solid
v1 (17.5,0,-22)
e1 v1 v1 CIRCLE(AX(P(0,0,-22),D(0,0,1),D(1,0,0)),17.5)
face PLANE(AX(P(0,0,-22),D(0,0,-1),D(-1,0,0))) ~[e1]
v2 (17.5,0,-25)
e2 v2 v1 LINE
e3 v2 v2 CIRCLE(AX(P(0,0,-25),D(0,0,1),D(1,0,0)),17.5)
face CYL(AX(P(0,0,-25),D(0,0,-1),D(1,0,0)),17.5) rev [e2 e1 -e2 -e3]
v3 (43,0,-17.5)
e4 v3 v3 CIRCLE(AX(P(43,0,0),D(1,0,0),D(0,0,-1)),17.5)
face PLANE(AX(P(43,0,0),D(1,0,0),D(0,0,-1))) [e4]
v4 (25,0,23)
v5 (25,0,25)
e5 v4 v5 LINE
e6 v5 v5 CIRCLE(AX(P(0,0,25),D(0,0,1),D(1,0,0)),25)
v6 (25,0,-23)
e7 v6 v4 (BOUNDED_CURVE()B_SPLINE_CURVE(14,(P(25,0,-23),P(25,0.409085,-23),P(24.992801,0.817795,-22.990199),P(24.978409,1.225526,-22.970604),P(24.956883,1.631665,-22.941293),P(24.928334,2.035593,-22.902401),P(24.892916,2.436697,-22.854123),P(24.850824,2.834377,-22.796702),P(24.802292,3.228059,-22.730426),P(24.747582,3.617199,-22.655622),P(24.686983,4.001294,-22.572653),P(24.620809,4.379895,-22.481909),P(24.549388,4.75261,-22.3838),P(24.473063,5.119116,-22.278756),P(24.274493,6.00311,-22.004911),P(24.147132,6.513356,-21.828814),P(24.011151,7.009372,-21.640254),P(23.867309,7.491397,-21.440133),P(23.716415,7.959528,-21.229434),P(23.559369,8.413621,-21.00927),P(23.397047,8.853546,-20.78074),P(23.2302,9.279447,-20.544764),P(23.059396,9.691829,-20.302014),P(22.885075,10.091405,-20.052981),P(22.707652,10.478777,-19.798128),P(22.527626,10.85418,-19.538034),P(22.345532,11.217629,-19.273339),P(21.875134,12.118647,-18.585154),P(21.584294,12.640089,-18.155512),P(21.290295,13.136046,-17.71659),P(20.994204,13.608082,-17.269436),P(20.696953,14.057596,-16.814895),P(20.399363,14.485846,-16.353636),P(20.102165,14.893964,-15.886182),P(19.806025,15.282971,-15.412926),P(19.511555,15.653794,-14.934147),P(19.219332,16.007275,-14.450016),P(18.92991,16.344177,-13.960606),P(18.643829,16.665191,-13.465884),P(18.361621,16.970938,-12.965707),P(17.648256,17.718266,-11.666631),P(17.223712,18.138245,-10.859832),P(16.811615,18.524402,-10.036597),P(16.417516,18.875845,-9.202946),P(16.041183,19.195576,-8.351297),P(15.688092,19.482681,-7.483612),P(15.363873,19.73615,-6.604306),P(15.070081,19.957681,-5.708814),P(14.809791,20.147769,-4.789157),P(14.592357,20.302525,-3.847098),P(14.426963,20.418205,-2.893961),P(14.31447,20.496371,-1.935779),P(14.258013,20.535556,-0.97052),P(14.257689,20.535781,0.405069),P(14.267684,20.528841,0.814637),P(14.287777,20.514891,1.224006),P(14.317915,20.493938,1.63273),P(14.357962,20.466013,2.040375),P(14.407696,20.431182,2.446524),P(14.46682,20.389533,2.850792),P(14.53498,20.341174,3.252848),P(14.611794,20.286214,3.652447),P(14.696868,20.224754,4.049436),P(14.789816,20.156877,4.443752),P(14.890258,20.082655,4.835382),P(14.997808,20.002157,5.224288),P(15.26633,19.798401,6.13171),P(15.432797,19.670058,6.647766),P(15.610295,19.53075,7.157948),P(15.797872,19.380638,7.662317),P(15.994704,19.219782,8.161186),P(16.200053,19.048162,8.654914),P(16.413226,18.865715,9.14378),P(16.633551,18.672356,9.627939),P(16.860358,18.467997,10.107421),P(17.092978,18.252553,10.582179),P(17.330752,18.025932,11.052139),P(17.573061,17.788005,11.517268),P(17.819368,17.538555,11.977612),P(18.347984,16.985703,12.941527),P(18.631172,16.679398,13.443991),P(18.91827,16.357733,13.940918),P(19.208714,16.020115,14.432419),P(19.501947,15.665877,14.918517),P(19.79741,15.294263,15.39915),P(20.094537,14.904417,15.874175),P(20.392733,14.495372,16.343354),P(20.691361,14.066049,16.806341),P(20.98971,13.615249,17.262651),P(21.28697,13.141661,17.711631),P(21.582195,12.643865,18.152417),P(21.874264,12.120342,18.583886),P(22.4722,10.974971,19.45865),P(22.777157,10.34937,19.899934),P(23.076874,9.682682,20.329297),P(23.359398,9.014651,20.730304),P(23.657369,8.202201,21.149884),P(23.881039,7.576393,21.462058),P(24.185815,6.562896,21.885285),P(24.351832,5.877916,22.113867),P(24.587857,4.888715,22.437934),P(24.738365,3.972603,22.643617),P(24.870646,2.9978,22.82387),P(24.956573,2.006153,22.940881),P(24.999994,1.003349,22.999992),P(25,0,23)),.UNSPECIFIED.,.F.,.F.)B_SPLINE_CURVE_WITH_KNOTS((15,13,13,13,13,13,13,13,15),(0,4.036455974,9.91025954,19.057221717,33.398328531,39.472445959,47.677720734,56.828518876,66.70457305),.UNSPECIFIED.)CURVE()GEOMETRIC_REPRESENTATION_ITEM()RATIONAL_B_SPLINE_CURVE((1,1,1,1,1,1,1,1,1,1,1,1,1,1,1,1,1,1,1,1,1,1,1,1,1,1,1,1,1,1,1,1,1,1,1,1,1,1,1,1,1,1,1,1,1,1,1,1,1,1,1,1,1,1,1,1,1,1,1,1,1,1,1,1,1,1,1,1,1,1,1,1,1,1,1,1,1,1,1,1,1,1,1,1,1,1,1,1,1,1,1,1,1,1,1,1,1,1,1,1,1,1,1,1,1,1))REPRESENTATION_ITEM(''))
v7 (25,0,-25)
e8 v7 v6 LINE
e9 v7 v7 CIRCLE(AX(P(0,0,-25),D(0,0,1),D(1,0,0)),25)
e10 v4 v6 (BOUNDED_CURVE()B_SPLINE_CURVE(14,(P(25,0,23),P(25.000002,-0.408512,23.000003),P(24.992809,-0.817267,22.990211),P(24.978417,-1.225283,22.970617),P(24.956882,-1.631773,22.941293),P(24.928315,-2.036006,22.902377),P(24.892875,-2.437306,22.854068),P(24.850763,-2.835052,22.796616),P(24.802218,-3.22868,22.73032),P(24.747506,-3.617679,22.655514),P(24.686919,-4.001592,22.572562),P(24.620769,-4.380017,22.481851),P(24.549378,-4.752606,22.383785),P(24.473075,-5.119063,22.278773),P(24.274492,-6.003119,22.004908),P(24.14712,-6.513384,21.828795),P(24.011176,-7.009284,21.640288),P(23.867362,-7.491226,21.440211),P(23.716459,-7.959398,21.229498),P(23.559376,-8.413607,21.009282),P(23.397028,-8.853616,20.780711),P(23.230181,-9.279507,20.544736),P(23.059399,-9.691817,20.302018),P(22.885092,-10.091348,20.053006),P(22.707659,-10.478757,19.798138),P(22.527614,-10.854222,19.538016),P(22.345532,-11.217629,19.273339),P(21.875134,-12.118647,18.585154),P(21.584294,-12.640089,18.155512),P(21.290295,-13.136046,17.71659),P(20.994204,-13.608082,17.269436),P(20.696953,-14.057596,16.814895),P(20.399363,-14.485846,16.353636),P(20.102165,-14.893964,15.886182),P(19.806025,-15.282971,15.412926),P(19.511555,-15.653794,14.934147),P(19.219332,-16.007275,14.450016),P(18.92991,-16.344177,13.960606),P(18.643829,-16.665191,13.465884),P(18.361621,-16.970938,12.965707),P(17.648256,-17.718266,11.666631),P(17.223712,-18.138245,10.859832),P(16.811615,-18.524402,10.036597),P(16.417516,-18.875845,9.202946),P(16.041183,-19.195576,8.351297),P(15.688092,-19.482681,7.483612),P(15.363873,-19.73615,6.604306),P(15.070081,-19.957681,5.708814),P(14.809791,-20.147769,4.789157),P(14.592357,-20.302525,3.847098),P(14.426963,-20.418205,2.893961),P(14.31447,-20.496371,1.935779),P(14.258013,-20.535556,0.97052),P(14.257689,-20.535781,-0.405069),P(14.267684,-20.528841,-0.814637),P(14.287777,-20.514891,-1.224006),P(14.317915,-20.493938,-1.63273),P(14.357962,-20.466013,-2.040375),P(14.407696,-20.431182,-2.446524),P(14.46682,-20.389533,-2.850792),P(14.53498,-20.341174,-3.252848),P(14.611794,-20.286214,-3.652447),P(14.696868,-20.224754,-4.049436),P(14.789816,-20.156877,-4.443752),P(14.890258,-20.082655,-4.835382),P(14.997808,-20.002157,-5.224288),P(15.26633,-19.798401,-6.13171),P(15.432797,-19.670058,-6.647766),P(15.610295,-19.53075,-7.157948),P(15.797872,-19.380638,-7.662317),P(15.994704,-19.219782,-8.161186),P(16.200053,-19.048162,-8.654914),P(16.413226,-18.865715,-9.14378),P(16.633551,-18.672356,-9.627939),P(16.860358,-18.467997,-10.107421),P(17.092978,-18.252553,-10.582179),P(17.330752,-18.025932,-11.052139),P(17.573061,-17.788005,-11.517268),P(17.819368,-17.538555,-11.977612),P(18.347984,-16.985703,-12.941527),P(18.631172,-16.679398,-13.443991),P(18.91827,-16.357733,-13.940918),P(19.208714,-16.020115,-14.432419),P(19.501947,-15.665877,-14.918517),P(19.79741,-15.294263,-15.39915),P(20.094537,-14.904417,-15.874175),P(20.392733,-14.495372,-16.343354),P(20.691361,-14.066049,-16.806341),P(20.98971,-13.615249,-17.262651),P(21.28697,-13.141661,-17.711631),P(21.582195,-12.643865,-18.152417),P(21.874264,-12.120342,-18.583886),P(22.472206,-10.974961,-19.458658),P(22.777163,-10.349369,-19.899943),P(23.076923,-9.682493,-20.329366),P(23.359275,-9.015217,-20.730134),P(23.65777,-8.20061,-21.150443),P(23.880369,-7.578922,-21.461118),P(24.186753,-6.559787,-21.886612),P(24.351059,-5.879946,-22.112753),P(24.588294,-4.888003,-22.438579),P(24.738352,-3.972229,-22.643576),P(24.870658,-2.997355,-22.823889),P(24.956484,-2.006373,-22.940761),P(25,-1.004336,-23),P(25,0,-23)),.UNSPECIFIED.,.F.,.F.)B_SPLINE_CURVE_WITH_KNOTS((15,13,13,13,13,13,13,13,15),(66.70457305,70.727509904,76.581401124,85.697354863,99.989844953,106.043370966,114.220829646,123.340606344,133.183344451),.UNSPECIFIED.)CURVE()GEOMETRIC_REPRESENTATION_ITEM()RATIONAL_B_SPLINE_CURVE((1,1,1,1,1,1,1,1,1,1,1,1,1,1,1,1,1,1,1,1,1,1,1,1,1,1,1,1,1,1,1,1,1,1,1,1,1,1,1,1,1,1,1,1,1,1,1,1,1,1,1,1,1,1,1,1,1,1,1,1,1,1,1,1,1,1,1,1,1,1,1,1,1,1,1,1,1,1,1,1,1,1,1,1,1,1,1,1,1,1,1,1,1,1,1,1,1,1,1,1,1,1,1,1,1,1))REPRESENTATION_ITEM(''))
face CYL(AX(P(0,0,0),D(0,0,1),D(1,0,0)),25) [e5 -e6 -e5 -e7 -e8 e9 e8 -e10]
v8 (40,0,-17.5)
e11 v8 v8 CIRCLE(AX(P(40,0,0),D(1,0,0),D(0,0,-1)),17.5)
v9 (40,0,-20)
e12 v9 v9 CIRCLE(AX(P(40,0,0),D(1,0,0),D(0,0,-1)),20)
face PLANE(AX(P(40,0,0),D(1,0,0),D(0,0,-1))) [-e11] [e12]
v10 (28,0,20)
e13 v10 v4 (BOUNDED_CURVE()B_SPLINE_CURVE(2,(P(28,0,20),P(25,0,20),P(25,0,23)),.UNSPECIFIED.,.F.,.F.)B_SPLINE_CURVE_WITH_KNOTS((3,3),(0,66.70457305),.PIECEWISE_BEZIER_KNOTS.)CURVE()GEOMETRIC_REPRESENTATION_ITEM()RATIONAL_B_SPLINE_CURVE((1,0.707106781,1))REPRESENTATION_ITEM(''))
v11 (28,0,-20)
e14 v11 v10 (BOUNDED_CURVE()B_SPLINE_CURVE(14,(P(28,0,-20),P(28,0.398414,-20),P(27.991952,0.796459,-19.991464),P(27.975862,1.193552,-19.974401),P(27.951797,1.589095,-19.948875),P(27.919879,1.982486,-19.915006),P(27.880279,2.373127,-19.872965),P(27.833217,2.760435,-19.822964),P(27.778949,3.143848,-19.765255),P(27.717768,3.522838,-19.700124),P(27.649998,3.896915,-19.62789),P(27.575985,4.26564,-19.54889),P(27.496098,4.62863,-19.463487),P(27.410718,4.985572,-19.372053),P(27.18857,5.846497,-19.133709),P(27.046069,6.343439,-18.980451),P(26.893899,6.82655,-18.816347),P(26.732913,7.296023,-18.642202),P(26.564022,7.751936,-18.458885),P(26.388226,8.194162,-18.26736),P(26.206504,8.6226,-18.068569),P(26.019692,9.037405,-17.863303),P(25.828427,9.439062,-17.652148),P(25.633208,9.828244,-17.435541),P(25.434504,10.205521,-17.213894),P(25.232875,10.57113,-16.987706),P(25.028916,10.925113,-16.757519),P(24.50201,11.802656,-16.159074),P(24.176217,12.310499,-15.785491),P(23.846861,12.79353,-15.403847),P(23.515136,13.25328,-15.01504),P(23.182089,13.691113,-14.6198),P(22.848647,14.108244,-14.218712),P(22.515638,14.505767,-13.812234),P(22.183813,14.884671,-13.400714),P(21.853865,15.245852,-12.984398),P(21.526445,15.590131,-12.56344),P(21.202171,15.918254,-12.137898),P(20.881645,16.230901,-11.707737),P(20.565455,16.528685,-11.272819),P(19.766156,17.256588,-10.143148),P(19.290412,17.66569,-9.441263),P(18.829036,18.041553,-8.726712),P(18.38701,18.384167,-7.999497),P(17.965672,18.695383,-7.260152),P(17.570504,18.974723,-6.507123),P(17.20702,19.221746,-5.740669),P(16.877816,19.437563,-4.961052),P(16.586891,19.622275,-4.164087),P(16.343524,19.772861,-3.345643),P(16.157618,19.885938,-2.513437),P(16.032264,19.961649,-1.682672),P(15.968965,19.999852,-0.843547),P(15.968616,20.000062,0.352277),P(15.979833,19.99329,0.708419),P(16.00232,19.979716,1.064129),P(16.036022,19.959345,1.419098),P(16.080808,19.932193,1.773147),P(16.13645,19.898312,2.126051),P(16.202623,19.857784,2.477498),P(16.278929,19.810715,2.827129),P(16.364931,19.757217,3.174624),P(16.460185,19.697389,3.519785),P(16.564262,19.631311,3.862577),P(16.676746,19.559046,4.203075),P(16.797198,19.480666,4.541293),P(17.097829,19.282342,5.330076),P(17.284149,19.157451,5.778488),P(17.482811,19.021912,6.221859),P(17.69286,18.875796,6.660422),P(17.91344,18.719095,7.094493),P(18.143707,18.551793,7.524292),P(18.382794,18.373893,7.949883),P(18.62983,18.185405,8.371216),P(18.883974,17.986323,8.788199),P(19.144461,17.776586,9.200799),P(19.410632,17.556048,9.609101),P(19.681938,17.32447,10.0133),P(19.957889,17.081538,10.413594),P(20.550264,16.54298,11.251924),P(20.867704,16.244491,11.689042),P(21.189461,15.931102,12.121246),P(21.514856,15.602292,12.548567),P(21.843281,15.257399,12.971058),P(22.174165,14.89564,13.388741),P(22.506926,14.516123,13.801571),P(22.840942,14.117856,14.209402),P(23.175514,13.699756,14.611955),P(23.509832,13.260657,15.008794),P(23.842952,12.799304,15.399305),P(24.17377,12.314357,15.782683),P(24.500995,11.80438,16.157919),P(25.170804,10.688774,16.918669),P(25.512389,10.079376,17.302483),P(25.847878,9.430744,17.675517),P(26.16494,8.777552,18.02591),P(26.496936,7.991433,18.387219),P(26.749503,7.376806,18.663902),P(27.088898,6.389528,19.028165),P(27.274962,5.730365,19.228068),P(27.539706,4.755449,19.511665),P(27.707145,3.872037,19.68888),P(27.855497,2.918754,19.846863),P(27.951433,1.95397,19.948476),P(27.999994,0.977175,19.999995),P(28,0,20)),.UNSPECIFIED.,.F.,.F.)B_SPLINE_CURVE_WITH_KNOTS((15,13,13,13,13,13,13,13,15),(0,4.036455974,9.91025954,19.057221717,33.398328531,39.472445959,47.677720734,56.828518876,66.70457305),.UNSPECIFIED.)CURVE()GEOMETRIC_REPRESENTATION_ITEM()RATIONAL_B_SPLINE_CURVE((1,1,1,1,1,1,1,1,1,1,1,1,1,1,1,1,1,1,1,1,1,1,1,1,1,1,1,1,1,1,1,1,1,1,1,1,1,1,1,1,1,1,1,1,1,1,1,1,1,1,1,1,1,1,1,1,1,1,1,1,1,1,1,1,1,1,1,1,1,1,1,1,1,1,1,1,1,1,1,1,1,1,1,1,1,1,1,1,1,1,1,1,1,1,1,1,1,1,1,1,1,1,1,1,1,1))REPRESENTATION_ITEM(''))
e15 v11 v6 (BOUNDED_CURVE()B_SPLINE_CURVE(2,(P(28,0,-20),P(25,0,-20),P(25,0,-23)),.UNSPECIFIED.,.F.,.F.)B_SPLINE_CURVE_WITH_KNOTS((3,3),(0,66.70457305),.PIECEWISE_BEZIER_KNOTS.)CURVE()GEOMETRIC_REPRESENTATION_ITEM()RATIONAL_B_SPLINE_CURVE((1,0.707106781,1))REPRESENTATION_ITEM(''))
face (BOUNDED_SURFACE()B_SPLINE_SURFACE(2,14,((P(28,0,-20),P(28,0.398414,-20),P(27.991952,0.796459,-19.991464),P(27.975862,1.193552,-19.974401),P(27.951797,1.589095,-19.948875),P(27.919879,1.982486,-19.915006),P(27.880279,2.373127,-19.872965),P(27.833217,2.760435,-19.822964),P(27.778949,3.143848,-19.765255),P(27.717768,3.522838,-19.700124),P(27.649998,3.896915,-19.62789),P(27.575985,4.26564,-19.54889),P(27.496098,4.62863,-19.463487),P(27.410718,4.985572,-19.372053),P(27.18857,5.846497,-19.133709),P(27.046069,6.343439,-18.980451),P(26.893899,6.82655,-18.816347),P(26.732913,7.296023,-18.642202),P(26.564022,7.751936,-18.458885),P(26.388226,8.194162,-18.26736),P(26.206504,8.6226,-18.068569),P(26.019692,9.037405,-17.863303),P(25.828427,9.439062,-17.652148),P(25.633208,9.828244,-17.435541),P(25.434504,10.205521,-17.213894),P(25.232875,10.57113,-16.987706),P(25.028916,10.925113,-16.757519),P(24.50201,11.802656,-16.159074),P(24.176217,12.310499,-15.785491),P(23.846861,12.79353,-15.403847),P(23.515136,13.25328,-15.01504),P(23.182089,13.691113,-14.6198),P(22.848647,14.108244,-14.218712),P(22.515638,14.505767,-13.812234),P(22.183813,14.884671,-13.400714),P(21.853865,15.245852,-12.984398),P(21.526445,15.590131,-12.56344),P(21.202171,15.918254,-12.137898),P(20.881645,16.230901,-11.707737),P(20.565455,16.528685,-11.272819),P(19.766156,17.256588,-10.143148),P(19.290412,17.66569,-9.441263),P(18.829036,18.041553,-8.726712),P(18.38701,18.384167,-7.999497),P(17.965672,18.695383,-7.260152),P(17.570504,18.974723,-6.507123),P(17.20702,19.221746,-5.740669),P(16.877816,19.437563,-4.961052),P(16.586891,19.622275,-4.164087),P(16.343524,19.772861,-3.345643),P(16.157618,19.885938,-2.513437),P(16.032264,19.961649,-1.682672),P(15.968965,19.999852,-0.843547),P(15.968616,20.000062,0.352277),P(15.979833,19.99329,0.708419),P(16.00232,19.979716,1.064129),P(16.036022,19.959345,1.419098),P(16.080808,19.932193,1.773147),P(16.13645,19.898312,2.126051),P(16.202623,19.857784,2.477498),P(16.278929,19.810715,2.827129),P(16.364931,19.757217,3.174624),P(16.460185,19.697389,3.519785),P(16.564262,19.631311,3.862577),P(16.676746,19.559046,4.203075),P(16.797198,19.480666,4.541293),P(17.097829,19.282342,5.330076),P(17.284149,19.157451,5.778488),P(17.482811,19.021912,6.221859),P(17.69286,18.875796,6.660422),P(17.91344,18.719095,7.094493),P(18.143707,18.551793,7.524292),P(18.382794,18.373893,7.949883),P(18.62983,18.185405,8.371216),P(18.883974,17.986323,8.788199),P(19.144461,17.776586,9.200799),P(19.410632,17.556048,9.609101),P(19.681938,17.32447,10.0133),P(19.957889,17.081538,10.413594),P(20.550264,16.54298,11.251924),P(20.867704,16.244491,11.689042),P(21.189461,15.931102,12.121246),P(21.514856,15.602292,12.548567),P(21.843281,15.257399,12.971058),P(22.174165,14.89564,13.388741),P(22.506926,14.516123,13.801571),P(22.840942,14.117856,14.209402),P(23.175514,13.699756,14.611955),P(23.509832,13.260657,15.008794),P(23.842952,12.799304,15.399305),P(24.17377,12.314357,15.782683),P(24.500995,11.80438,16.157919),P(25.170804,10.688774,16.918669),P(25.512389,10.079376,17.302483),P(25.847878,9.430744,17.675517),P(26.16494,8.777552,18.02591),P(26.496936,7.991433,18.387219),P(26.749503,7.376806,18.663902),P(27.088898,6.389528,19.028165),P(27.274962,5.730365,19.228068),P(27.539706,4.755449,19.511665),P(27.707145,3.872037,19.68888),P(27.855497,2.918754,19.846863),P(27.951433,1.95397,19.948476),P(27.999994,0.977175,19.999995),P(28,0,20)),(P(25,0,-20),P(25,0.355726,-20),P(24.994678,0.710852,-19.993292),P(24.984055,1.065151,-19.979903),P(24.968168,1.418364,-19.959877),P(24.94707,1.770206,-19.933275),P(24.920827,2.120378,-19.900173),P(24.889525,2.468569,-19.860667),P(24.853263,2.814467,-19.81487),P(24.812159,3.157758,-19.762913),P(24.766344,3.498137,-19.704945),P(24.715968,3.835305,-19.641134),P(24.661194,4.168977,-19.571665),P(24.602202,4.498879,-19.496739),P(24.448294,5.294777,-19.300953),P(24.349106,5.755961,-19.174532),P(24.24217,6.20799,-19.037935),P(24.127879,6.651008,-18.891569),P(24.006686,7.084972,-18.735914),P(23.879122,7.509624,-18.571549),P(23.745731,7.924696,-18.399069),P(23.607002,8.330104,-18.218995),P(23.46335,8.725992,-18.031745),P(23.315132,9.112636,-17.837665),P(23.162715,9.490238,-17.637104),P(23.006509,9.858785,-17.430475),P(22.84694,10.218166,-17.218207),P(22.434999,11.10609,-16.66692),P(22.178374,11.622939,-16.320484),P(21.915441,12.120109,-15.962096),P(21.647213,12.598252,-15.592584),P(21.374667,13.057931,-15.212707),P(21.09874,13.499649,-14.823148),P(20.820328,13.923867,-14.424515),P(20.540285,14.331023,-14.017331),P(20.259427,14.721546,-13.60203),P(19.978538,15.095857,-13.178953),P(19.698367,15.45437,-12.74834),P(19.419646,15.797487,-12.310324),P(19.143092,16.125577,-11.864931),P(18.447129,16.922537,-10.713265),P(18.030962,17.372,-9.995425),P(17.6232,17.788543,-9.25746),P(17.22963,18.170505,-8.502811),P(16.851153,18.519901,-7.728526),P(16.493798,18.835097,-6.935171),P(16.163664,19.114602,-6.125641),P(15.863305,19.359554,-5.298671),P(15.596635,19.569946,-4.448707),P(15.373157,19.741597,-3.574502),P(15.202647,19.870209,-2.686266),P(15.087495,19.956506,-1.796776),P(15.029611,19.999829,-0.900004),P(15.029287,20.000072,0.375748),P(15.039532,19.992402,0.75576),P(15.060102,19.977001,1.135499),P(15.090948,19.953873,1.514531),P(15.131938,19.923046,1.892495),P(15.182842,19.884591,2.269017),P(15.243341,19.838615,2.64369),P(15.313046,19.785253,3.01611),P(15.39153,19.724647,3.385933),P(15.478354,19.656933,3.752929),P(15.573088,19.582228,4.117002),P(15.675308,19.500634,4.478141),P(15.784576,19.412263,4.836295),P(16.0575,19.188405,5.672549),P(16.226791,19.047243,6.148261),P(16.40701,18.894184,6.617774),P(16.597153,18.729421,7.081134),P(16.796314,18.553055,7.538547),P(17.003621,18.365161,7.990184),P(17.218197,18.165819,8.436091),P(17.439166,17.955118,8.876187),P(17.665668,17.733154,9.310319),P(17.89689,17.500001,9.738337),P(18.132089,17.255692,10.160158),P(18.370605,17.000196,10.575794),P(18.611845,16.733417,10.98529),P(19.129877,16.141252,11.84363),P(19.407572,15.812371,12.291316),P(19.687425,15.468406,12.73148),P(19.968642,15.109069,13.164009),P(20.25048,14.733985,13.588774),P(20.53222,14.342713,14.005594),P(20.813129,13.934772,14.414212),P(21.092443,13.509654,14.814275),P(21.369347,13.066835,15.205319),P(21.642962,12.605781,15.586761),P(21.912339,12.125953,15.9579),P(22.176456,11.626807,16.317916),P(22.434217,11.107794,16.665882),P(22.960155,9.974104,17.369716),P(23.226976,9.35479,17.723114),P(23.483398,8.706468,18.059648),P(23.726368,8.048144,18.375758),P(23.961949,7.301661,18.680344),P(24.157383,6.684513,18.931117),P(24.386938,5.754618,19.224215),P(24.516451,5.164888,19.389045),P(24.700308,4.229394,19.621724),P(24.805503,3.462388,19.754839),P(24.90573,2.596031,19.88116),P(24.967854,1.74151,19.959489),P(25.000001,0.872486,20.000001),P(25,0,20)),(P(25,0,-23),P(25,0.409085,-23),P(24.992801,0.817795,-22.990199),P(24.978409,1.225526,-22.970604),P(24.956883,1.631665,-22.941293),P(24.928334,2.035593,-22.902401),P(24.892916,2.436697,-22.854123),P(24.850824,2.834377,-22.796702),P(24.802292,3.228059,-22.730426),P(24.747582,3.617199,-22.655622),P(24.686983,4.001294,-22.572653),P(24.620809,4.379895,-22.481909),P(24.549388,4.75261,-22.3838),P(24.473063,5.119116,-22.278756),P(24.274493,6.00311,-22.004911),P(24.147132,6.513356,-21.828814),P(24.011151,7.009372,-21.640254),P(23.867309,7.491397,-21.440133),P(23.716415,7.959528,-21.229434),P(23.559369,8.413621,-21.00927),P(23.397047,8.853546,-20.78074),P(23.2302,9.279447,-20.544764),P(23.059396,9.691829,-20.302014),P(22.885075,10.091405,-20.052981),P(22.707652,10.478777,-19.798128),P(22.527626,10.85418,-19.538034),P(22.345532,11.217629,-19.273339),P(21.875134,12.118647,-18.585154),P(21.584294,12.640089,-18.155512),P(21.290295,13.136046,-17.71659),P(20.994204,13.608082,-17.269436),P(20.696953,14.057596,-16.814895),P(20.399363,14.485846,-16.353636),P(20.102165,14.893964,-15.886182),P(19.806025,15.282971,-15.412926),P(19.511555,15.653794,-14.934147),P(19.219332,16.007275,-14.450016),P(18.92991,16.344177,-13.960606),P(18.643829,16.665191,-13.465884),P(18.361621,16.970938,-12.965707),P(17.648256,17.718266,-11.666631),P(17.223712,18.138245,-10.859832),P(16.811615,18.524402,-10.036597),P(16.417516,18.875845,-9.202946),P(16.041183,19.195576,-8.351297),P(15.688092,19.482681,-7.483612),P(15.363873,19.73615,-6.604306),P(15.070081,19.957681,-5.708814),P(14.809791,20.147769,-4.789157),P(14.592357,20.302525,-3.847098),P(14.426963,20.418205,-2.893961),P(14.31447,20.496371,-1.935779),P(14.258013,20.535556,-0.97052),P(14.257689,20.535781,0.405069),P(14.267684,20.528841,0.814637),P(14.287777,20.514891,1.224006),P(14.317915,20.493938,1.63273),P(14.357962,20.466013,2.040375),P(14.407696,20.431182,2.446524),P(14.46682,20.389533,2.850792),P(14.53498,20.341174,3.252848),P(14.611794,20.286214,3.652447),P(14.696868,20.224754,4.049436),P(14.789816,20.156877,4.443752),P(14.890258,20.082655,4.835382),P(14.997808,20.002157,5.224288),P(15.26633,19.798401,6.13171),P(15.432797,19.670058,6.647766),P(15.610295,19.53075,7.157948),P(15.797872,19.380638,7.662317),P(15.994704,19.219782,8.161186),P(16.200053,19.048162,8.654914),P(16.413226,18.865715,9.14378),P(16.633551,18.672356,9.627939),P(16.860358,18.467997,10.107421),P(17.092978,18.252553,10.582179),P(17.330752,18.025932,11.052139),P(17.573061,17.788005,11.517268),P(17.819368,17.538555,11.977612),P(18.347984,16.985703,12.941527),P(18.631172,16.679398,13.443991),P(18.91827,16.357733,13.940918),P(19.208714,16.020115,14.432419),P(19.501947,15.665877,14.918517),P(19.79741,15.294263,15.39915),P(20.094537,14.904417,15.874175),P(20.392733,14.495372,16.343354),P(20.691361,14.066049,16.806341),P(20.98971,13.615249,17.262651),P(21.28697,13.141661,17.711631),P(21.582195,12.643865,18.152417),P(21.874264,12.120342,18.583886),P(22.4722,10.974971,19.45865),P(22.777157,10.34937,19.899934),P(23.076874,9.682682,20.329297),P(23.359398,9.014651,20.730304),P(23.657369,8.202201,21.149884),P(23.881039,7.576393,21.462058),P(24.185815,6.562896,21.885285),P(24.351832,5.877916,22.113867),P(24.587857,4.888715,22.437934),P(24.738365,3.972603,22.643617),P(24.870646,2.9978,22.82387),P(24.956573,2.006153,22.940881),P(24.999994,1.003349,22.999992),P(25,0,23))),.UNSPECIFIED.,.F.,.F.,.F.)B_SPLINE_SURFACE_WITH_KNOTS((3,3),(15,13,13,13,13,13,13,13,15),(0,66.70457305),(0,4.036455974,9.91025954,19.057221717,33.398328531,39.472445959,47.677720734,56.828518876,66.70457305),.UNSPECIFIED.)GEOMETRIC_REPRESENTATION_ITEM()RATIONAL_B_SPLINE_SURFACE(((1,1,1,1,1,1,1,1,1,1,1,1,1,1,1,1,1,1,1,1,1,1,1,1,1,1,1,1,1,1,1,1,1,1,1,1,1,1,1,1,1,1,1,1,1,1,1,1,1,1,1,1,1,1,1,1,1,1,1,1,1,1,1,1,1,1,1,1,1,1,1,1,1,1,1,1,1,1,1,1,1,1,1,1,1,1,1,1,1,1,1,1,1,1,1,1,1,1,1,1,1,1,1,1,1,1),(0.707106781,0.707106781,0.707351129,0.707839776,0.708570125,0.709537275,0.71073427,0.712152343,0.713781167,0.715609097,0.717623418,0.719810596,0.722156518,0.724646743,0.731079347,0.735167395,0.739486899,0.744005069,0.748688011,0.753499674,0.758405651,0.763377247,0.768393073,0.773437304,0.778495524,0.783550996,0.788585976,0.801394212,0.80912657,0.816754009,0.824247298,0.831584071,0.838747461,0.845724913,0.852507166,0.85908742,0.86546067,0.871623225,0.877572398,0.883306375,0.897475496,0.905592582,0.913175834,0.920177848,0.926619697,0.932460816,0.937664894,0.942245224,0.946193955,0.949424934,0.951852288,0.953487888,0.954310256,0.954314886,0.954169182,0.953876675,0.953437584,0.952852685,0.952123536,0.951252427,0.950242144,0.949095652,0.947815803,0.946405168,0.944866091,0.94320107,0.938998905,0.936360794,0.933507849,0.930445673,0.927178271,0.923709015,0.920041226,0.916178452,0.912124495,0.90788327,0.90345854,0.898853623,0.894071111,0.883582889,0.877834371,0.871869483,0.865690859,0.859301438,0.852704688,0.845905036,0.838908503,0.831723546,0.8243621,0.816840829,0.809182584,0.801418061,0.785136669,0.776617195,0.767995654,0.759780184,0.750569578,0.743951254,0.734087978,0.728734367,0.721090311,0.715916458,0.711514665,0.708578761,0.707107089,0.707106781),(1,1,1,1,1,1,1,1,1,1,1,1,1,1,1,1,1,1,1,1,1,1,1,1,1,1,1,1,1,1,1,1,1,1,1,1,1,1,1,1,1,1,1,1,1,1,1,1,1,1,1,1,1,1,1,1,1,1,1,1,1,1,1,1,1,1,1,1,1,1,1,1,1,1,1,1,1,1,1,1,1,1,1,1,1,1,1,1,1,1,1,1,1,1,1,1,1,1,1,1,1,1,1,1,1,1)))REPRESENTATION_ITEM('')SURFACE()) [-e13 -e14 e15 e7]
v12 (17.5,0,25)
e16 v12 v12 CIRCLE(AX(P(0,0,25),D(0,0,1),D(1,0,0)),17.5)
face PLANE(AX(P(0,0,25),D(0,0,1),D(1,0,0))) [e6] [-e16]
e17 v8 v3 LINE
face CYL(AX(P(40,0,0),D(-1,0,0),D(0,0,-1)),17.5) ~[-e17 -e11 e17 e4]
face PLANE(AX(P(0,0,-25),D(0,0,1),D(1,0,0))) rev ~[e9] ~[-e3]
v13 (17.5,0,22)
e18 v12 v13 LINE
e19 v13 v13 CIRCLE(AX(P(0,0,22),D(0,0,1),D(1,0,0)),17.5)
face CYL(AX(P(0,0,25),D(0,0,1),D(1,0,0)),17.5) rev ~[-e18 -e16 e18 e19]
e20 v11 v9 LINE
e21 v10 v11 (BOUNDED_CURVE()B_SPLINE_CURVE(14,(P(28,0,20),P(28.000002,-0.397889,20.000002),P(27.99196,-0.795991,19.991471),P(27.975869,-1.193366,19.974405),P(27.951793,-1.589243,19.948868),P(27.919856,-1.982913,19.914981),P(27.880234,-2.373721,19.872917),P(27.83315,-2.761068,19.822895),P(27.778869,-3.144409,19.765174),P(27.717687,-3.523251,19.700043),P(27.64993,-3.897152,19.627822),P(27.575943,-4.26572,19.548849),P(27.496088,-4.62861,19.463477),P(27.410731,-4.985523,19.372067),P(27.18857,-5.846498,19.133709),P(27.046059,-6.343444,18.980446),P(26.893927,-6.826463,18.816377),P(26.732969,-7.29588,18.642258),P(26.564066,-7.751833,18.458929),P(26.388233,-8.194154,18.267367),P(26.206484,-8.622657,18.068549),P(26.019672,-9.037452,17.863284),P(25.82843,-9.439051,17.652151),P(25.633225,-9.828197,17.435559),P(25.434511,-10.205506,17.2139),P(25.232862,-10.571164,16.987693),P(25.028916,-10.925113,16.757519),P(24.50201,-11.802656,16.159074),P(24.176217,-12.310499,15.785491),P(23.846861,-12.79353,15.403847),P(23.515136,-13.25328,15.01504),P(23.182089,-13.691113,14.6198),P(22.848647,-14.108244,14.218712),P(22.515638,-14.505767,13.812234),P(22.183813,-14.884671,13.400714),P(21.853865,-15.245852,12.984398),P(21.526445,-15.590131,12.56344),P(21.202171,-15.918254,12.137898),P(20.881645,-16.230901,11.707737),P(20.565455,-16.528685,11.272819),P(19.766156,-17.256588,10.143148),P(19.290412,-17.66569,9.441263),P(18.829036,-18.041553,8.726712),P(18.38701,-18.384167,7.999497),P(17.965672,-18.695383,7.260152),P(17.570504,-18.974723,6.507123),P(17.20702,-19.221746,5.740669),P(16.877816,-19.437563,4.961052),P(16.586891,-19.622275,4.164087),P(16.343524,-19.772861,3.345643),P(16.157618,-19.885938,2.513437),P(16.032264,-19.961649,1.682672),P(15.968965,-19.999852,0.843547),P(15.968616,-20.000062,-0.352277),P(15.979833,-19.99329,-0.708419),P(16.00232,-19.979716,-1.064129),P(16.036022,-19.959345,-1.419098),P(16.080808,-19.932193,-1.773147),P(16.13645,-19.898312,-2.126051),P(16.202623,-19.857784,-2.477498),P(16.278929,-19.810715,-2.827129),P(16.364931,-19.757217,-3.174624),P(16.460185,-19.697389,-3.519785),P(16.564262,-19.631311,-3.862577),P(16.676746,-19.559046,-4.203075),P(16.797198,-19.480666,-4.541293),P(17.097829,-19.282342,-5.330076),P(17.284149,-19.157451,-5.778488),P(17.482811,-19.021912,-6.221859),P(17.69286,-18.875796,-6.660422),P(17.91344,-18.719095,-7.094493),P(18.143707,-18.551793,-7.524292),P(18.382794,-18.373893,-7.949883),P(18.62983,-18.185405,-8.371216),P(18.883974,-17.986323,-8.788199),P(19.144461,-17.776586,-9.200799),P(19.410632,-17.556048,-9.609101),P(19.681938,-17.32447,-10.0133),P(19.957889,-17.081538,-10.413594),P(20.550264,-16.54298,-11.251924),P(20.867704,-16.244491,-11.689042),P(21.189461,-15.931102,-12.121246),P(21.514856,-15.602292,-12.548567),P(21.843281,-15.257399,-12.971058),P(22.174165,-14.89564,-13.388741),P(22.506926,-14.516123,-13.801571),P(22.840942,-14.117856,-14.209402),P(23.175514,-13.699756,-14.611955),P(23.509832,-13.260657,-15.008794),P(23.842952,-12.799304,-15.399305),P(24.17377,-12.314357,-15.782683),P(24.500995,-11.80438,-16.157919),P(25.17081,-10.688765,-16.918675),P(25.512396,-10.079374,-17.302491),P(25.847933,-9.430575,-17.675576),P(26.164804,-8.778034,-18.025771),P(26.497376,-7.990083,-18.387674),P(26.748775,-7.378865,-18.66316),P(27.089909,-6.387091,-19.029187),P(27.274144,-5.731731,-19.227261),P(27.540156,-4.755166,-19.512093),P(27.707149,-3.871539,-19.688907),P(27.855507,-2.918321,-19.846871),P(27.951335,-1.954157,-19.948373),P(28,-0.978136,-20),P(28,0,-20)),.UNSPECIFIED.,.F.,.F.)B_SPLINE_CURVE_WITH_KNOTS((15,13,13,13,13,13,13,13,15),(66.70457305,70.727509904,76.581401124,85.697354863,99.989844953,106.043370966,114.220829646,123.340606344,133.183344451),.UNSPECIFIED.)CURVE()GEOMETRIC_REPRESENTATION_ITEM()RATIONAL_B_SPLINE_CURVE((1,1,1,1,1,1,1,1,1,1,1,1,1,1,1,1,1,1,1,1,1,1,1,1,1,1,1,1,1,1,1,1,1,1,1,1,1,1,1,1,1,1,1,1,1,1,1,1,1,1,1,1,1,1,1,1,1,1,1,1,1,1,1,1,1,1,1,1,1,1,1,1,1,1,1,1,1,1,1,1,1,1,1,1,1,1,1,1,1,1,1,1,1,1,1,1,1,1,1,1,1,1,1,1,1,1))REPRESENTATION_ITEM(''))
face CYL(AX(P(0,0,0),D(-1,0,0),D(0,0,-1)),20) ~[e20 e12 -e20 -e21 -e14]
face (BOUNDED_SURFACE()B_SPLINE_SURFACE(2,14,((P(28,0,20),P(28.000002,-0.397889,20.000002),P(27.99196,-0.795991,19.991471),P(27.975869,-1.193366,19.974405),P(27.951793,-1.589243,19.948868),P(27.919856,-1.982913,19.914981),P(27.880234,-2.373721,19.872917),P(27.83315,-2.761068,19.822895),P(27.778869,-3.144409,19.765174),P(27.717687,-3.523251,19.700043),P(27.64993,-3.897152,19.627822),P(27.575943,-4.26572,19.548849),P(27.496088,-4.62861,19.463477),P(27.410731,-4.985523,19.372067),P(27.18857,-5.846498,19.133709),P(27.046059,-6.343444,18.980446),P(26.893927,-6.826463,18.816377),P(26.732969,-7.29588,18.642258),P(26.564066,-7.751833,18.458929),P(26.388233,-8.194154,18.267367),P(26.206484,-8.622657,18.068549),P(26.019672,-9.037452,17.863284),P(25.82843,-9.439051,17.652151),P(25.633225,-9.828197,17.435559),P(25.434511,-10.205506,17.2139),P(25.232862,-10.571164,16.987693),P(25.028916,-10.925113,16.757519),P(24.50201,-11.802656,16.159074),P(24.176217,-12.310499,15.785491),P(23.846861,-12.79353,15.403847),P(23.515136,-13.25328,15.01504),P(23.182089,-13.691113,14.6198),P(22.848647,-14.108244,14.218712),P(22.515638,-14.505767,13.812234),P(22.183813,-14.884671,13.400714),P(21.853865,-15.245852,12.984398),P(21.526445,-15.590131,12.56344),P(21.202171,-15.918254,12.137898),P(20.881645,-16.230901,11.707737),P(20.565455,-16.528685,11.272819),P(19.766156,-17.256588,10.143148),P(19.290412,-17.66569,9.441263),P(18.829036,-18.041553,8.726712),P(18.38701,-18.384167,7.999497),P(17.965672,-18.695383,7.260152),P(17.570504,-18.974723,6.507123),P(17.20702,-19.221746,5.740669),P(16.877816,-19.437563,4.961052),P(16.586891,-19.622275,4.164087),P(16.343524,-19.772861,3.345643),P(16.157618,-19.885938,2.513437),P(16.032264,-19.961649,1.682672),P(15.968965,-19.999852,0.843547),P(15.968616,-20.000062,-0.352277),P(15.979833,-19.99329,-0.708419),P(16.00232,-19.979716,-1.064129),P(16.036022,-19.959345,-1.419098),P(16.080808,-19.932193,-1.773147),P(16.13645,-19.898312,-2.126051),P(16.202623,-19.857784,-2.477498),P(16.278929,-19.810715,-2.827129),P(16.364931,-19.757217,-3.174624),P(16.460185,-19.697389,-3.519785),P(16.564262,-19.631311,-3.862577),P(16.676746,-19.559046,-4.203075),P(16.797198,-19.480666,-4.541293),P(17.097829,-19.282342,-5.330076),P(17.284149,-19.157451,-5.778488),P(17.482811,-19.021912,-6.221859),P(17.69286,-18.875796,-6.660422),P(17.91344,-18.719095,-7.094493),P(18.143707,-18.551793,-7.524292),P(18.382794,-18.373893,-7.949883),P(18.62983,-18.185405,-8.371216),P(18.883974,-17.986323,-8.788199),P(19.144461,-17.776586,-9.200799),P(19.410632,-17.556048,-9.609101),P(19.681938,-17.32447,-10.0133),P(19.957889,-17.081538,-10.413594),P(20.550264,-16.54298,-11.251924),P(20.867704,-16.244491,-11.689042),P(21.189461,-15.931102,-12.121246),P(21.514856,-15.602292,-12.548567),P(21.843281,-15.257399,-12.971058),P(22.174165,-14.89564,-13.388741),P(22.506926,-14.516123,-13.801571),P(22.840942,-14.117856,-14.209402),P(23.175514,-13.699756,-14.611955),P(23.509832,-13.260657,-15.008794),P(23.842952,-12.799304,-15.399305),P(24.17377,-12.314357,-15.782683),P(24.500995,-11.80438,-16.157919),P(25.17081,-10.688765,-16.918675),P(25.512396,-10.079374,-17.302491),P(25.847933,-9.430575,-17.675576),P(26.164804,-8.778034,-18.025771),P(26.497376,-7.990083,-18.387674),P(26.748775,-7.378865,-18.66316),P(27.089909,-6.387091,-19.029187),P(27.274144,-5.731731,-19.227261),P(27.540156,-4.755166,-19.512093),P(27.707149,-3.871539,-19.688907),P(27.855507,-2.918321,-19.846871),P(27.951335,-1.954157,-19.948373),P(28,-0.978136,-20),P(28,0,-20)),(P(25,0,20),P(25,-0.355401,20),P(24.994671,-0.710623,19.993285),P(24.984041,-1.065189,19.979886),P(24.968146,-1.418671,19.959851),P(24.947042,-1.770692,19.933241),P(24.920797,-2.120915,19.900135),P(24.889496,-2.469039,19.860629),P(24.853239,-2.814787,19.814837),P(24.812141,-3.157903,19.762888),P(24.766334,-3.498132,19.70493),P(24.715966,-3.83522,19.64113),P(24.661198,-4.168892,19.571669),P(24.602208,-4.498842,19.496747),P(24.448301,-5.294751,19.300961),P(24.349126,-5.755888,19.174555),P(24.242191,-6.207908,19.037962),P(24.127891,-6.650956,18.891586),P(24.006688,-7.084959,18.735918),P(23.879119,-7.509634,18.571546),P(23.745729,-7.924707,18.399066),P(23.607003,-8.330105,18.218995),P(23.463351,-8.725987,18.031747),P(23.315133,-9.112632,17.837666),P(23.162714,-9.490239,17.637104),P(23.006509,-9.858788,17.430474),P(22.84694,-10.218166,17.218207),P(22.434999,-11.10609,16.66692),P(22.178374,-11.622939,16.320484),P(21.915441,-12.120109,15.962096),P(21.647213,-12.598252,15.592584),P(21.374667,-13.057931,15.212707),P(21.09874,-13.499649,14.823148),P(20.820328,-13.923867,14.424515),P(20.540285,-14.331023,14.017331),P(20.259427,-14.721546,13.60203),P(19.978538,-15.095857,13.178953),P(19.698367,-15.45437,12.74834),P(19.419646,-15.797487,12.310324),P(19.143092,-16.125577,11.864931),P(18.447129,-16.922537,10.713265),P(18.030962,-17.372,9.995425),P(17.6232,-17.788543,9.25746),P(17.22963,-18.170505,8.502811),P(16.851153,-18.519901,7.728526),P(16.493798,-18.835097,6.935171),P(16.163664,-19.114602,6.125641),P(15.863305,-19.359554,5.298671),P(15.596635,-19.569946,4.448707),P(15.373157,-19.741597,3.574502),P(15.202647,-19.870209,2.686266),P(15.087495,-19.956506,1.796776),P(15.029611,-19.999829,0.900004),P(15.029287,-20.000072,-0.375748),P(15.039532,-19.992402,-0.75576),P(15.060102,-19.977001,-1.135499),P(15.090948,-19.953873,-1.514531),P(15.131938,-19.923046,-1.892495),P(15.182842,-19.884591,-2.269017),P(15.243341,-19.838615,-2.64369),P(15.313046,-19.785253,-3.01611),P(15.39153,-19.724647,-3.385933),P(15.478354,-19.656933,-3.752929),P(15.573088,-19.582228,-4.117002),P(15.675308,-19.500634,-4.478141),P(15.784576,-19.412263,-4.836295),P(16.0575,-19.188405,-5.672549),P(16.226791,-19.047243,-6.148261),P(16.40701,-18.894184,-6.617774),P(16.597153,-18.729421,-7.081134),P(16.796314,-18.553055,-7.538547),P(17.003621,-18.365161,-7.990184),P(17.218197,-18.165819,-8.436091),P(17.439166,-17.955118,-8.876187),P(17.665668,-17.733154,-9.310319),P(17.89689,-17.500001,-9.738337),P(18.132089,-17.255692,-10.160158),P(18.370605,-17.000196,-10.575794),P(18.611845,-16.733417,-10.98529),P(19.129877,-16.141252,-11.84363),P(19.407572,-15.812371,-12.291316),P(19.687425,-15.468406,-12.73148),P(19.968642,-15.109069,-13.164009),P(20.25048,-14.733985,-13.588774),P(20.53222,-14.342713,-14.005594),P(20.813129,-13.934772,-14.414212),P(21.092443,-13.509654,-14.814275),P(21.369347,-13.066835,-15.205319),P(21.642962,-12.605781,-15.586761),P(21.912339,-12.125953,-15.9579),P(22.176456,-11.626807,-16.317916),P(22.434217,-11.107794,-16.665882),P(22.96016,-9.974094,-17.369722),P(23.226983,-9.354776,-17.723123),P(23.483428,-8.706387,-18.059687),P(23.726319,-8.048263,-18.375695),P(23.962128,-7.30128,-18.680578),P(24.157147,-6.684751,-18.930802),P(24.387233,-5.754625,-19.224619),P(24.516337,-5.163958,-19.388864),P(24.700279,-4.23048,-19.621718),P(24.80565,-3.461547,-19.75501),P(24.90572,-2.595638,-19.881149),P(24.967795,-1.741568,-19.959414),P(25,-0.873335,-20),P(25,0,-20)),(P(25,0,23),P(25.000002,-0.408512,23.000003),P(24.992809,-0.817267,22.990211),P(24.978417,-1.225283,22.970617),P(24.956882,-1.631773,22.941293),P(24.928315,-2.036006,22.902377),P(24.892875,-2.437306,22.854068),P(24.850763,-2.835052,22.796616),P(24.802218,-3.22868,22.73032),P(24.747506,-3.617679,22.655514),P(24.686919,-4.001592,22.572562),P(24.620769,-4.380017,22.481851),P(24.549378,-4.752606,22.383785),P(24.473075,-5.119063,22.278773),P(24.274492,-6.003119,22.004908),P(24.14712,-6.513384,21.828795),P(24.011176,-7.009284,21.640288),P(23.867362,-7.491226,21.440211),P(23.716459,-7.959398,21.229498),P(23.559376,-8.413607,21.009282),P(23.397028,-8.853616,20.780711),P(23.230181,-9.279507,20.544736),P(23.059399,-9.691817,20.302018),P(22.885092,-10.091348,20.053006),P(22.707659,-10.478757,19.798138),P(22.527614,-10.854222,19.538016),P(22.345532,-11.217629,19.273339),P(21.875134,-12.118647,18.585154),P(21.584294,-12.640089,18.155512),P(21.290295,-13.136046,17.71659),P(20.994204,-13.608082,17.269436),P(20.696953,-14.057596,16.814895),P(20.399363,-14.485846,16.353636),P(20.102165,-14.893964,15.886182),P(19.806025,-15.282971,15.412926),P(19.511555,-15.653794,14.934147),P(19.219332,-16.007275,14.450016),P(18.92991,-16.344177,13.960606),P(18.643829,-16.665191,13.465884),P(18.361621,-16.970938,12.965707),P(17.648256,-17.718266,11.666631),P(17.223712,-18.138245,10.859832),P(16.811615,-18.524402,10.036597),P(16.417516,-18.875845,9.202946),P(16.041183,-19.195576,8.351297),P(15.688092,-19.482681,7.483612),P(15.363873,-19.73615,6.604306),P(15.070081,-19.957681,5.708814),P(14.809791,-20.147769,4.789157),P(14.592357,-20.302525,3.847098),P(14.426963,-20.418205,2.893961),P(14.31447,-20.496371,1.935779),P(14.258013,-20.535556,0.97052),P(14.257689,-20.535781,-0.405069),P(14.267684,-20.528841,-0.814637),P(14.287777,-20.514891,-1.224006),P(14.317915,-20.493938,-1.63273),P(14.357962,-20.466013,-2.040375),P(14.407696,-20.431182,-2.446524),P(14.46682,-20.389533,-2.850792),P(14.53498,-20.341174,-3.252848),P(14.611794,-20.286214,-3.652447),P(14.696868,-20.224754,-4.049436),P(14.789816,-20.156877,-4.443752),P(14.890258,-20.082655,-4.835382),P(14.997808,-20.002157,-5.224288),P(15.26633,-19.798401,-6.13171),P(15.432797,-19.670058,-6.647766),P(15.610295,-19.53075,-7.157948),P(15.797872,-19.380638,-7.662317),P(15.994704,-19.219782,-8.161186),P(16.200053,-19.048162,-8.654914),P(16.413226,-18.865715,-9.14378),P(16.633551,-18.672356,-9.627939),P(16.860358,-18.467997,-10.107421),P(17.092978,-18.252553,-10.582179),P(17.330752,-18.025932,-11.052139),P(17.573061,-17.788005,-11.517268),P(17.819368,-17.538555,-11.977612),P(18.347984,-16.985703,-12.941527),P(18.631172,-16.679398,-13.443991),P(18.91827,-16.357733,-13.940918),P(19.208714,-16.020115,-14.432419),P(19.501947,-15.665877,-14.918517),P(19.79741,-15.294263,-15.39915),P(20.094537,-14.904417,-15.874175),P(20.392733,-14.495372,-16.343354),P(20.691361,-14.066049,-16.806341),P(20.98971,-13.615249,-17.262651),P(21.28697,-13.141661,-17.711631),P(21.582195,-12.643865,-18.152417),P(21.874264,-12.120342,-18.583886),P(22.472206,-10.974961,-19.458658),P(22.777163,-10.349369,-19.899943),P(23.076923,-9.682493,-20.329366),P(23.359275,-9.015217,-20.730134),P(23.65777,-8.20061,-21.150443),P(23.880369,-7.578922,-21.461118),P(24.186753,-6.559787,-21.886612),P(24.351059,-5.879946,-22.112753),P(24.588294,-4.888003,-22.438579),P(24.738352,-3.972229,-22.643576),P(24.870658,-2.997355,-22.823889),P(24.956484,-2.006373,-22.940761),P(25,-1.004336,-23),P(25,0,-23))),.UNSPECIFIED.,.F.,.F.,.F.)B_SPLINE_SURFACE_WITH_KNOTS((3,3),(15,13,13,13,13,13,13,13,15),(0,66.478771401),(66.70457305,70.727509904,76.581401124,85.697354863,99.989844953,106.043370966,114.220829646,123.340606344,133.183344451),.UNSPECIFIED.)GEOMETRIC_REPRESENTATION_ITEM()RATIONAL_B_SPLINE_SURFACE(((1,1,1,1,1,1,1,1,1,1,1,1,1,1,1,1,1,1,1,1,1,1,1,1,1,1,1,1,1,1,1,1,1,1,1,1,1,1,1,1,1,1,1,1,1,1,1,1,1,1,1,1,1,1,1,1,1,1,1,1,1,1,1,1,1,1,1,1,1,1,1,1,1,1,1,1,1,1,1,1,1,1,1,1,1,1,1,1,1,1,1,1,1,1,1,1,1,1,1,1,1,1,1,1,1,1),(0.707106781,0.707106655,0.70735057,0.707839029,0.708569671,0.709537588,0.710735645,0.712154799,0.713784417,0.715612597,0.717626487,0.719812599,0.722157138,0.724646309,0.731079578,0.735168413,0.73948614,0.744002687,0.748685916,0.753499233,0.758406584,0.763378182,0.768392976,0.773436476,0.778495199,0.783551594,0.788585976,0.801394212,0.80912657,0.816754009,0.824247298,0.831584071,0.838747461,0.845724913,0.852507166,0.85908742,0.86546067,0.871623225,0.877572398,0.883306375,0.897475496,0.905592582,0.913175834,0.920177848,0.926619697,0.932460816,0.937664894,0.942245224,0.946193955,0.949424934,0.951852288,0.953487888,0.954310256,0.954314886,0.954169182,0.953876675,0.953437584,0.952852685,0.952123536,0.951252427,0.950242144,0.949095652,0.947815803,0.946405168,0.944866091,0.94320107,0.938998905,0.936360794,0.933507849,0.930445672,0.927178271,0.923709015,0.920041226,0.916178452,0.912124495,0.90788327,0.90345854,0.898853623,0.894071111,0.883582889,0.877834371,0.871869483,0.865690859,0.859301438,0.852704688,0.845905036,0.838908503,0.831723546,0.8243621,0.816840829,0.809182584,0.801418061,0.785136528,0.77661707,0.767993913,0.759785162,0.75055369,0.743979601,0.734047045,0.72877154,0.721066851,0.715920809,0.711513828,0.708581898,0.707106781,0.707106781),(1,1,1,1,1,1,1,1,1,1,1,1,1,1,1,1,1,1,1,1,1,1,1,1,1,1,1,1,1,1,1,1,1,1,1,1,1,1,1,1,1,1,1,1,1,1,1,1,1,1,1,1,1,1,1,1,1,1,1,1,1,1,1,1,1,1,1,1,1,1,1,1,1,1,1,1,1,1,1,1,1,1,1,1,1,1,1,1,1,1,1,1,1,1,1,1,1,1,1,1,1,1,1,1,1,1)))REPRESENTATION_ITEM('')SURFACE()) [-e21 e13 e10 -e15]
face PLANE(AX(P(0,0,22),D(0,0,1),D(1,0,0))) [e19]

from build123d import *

# Parameters (mm, degrees)
SKETCH1_R           = 25
BOSS_EXTRUDE1_DEPTH = 25
SKETCH2_R           = 17.5
CUT_EXTRUDE1_DEPTH  = 3
SKETCH3_R           = 20
BOSS_EXTRUDE2_DEPTH = 40
SKETCH4_R           = 17.5
BOSS_EXTRUDE3_DEPTH = 3
FILLET1_R           = 3


with BuildPart() as part:
    # Sketch1 → Boss-Extrude1 (new body, symmetric)
    with BuildSketch(Plane.XY):
        Circle(SKETCH1_R)
    extrude(amount=BOSS_EXTRUDE1_DEPTH, both=True)

    # Sketch2 → Cut-Extrude1 (cut)
    with BuildSketch(Plane.XY.offset(25)):
        Circle(SKETCH2_R)
    cut_extrude1 = extrude(amount=-CUT_EXTRUDE1_DEPTH, mode=Mode.SUBTRACT)

    # Mirror1: Cut-Extrude1 across plane
    add(cut_extrude1.mirror(Plane.XY), mode=Mode.SUBTRACT)

    # Sketch3 → Boss-Extrude2 (add)
    with BuildSketch(Plane(origin=(0, 0, 0), x_dir=(0, 0, -1), z_dir=(1, 0, 0))):
        Circle(SKETCH3_R)
    extrude(amount=BOSS_EXTRUDE2_DEPTH)

    # Sketch4 → Boss-Extrude3 (add)
    with BuildSketch(Plane(origin=(40, 0, 0), x_dir=(0, 0, -1), z_dir=(1, 0, 0))):
        Circle(SKETCH4_R)
    extrude(amount=BOSS_EXTRUDE3_DEPTH)

    # Fillet1
    fillet1_edges = [part.edges().sort_by_distance(p)[0] for p in [
        (15, 20, 0),
    ]]
    fillet(fillet1_edges, radius=FILLET1_R)


solid = part.part
